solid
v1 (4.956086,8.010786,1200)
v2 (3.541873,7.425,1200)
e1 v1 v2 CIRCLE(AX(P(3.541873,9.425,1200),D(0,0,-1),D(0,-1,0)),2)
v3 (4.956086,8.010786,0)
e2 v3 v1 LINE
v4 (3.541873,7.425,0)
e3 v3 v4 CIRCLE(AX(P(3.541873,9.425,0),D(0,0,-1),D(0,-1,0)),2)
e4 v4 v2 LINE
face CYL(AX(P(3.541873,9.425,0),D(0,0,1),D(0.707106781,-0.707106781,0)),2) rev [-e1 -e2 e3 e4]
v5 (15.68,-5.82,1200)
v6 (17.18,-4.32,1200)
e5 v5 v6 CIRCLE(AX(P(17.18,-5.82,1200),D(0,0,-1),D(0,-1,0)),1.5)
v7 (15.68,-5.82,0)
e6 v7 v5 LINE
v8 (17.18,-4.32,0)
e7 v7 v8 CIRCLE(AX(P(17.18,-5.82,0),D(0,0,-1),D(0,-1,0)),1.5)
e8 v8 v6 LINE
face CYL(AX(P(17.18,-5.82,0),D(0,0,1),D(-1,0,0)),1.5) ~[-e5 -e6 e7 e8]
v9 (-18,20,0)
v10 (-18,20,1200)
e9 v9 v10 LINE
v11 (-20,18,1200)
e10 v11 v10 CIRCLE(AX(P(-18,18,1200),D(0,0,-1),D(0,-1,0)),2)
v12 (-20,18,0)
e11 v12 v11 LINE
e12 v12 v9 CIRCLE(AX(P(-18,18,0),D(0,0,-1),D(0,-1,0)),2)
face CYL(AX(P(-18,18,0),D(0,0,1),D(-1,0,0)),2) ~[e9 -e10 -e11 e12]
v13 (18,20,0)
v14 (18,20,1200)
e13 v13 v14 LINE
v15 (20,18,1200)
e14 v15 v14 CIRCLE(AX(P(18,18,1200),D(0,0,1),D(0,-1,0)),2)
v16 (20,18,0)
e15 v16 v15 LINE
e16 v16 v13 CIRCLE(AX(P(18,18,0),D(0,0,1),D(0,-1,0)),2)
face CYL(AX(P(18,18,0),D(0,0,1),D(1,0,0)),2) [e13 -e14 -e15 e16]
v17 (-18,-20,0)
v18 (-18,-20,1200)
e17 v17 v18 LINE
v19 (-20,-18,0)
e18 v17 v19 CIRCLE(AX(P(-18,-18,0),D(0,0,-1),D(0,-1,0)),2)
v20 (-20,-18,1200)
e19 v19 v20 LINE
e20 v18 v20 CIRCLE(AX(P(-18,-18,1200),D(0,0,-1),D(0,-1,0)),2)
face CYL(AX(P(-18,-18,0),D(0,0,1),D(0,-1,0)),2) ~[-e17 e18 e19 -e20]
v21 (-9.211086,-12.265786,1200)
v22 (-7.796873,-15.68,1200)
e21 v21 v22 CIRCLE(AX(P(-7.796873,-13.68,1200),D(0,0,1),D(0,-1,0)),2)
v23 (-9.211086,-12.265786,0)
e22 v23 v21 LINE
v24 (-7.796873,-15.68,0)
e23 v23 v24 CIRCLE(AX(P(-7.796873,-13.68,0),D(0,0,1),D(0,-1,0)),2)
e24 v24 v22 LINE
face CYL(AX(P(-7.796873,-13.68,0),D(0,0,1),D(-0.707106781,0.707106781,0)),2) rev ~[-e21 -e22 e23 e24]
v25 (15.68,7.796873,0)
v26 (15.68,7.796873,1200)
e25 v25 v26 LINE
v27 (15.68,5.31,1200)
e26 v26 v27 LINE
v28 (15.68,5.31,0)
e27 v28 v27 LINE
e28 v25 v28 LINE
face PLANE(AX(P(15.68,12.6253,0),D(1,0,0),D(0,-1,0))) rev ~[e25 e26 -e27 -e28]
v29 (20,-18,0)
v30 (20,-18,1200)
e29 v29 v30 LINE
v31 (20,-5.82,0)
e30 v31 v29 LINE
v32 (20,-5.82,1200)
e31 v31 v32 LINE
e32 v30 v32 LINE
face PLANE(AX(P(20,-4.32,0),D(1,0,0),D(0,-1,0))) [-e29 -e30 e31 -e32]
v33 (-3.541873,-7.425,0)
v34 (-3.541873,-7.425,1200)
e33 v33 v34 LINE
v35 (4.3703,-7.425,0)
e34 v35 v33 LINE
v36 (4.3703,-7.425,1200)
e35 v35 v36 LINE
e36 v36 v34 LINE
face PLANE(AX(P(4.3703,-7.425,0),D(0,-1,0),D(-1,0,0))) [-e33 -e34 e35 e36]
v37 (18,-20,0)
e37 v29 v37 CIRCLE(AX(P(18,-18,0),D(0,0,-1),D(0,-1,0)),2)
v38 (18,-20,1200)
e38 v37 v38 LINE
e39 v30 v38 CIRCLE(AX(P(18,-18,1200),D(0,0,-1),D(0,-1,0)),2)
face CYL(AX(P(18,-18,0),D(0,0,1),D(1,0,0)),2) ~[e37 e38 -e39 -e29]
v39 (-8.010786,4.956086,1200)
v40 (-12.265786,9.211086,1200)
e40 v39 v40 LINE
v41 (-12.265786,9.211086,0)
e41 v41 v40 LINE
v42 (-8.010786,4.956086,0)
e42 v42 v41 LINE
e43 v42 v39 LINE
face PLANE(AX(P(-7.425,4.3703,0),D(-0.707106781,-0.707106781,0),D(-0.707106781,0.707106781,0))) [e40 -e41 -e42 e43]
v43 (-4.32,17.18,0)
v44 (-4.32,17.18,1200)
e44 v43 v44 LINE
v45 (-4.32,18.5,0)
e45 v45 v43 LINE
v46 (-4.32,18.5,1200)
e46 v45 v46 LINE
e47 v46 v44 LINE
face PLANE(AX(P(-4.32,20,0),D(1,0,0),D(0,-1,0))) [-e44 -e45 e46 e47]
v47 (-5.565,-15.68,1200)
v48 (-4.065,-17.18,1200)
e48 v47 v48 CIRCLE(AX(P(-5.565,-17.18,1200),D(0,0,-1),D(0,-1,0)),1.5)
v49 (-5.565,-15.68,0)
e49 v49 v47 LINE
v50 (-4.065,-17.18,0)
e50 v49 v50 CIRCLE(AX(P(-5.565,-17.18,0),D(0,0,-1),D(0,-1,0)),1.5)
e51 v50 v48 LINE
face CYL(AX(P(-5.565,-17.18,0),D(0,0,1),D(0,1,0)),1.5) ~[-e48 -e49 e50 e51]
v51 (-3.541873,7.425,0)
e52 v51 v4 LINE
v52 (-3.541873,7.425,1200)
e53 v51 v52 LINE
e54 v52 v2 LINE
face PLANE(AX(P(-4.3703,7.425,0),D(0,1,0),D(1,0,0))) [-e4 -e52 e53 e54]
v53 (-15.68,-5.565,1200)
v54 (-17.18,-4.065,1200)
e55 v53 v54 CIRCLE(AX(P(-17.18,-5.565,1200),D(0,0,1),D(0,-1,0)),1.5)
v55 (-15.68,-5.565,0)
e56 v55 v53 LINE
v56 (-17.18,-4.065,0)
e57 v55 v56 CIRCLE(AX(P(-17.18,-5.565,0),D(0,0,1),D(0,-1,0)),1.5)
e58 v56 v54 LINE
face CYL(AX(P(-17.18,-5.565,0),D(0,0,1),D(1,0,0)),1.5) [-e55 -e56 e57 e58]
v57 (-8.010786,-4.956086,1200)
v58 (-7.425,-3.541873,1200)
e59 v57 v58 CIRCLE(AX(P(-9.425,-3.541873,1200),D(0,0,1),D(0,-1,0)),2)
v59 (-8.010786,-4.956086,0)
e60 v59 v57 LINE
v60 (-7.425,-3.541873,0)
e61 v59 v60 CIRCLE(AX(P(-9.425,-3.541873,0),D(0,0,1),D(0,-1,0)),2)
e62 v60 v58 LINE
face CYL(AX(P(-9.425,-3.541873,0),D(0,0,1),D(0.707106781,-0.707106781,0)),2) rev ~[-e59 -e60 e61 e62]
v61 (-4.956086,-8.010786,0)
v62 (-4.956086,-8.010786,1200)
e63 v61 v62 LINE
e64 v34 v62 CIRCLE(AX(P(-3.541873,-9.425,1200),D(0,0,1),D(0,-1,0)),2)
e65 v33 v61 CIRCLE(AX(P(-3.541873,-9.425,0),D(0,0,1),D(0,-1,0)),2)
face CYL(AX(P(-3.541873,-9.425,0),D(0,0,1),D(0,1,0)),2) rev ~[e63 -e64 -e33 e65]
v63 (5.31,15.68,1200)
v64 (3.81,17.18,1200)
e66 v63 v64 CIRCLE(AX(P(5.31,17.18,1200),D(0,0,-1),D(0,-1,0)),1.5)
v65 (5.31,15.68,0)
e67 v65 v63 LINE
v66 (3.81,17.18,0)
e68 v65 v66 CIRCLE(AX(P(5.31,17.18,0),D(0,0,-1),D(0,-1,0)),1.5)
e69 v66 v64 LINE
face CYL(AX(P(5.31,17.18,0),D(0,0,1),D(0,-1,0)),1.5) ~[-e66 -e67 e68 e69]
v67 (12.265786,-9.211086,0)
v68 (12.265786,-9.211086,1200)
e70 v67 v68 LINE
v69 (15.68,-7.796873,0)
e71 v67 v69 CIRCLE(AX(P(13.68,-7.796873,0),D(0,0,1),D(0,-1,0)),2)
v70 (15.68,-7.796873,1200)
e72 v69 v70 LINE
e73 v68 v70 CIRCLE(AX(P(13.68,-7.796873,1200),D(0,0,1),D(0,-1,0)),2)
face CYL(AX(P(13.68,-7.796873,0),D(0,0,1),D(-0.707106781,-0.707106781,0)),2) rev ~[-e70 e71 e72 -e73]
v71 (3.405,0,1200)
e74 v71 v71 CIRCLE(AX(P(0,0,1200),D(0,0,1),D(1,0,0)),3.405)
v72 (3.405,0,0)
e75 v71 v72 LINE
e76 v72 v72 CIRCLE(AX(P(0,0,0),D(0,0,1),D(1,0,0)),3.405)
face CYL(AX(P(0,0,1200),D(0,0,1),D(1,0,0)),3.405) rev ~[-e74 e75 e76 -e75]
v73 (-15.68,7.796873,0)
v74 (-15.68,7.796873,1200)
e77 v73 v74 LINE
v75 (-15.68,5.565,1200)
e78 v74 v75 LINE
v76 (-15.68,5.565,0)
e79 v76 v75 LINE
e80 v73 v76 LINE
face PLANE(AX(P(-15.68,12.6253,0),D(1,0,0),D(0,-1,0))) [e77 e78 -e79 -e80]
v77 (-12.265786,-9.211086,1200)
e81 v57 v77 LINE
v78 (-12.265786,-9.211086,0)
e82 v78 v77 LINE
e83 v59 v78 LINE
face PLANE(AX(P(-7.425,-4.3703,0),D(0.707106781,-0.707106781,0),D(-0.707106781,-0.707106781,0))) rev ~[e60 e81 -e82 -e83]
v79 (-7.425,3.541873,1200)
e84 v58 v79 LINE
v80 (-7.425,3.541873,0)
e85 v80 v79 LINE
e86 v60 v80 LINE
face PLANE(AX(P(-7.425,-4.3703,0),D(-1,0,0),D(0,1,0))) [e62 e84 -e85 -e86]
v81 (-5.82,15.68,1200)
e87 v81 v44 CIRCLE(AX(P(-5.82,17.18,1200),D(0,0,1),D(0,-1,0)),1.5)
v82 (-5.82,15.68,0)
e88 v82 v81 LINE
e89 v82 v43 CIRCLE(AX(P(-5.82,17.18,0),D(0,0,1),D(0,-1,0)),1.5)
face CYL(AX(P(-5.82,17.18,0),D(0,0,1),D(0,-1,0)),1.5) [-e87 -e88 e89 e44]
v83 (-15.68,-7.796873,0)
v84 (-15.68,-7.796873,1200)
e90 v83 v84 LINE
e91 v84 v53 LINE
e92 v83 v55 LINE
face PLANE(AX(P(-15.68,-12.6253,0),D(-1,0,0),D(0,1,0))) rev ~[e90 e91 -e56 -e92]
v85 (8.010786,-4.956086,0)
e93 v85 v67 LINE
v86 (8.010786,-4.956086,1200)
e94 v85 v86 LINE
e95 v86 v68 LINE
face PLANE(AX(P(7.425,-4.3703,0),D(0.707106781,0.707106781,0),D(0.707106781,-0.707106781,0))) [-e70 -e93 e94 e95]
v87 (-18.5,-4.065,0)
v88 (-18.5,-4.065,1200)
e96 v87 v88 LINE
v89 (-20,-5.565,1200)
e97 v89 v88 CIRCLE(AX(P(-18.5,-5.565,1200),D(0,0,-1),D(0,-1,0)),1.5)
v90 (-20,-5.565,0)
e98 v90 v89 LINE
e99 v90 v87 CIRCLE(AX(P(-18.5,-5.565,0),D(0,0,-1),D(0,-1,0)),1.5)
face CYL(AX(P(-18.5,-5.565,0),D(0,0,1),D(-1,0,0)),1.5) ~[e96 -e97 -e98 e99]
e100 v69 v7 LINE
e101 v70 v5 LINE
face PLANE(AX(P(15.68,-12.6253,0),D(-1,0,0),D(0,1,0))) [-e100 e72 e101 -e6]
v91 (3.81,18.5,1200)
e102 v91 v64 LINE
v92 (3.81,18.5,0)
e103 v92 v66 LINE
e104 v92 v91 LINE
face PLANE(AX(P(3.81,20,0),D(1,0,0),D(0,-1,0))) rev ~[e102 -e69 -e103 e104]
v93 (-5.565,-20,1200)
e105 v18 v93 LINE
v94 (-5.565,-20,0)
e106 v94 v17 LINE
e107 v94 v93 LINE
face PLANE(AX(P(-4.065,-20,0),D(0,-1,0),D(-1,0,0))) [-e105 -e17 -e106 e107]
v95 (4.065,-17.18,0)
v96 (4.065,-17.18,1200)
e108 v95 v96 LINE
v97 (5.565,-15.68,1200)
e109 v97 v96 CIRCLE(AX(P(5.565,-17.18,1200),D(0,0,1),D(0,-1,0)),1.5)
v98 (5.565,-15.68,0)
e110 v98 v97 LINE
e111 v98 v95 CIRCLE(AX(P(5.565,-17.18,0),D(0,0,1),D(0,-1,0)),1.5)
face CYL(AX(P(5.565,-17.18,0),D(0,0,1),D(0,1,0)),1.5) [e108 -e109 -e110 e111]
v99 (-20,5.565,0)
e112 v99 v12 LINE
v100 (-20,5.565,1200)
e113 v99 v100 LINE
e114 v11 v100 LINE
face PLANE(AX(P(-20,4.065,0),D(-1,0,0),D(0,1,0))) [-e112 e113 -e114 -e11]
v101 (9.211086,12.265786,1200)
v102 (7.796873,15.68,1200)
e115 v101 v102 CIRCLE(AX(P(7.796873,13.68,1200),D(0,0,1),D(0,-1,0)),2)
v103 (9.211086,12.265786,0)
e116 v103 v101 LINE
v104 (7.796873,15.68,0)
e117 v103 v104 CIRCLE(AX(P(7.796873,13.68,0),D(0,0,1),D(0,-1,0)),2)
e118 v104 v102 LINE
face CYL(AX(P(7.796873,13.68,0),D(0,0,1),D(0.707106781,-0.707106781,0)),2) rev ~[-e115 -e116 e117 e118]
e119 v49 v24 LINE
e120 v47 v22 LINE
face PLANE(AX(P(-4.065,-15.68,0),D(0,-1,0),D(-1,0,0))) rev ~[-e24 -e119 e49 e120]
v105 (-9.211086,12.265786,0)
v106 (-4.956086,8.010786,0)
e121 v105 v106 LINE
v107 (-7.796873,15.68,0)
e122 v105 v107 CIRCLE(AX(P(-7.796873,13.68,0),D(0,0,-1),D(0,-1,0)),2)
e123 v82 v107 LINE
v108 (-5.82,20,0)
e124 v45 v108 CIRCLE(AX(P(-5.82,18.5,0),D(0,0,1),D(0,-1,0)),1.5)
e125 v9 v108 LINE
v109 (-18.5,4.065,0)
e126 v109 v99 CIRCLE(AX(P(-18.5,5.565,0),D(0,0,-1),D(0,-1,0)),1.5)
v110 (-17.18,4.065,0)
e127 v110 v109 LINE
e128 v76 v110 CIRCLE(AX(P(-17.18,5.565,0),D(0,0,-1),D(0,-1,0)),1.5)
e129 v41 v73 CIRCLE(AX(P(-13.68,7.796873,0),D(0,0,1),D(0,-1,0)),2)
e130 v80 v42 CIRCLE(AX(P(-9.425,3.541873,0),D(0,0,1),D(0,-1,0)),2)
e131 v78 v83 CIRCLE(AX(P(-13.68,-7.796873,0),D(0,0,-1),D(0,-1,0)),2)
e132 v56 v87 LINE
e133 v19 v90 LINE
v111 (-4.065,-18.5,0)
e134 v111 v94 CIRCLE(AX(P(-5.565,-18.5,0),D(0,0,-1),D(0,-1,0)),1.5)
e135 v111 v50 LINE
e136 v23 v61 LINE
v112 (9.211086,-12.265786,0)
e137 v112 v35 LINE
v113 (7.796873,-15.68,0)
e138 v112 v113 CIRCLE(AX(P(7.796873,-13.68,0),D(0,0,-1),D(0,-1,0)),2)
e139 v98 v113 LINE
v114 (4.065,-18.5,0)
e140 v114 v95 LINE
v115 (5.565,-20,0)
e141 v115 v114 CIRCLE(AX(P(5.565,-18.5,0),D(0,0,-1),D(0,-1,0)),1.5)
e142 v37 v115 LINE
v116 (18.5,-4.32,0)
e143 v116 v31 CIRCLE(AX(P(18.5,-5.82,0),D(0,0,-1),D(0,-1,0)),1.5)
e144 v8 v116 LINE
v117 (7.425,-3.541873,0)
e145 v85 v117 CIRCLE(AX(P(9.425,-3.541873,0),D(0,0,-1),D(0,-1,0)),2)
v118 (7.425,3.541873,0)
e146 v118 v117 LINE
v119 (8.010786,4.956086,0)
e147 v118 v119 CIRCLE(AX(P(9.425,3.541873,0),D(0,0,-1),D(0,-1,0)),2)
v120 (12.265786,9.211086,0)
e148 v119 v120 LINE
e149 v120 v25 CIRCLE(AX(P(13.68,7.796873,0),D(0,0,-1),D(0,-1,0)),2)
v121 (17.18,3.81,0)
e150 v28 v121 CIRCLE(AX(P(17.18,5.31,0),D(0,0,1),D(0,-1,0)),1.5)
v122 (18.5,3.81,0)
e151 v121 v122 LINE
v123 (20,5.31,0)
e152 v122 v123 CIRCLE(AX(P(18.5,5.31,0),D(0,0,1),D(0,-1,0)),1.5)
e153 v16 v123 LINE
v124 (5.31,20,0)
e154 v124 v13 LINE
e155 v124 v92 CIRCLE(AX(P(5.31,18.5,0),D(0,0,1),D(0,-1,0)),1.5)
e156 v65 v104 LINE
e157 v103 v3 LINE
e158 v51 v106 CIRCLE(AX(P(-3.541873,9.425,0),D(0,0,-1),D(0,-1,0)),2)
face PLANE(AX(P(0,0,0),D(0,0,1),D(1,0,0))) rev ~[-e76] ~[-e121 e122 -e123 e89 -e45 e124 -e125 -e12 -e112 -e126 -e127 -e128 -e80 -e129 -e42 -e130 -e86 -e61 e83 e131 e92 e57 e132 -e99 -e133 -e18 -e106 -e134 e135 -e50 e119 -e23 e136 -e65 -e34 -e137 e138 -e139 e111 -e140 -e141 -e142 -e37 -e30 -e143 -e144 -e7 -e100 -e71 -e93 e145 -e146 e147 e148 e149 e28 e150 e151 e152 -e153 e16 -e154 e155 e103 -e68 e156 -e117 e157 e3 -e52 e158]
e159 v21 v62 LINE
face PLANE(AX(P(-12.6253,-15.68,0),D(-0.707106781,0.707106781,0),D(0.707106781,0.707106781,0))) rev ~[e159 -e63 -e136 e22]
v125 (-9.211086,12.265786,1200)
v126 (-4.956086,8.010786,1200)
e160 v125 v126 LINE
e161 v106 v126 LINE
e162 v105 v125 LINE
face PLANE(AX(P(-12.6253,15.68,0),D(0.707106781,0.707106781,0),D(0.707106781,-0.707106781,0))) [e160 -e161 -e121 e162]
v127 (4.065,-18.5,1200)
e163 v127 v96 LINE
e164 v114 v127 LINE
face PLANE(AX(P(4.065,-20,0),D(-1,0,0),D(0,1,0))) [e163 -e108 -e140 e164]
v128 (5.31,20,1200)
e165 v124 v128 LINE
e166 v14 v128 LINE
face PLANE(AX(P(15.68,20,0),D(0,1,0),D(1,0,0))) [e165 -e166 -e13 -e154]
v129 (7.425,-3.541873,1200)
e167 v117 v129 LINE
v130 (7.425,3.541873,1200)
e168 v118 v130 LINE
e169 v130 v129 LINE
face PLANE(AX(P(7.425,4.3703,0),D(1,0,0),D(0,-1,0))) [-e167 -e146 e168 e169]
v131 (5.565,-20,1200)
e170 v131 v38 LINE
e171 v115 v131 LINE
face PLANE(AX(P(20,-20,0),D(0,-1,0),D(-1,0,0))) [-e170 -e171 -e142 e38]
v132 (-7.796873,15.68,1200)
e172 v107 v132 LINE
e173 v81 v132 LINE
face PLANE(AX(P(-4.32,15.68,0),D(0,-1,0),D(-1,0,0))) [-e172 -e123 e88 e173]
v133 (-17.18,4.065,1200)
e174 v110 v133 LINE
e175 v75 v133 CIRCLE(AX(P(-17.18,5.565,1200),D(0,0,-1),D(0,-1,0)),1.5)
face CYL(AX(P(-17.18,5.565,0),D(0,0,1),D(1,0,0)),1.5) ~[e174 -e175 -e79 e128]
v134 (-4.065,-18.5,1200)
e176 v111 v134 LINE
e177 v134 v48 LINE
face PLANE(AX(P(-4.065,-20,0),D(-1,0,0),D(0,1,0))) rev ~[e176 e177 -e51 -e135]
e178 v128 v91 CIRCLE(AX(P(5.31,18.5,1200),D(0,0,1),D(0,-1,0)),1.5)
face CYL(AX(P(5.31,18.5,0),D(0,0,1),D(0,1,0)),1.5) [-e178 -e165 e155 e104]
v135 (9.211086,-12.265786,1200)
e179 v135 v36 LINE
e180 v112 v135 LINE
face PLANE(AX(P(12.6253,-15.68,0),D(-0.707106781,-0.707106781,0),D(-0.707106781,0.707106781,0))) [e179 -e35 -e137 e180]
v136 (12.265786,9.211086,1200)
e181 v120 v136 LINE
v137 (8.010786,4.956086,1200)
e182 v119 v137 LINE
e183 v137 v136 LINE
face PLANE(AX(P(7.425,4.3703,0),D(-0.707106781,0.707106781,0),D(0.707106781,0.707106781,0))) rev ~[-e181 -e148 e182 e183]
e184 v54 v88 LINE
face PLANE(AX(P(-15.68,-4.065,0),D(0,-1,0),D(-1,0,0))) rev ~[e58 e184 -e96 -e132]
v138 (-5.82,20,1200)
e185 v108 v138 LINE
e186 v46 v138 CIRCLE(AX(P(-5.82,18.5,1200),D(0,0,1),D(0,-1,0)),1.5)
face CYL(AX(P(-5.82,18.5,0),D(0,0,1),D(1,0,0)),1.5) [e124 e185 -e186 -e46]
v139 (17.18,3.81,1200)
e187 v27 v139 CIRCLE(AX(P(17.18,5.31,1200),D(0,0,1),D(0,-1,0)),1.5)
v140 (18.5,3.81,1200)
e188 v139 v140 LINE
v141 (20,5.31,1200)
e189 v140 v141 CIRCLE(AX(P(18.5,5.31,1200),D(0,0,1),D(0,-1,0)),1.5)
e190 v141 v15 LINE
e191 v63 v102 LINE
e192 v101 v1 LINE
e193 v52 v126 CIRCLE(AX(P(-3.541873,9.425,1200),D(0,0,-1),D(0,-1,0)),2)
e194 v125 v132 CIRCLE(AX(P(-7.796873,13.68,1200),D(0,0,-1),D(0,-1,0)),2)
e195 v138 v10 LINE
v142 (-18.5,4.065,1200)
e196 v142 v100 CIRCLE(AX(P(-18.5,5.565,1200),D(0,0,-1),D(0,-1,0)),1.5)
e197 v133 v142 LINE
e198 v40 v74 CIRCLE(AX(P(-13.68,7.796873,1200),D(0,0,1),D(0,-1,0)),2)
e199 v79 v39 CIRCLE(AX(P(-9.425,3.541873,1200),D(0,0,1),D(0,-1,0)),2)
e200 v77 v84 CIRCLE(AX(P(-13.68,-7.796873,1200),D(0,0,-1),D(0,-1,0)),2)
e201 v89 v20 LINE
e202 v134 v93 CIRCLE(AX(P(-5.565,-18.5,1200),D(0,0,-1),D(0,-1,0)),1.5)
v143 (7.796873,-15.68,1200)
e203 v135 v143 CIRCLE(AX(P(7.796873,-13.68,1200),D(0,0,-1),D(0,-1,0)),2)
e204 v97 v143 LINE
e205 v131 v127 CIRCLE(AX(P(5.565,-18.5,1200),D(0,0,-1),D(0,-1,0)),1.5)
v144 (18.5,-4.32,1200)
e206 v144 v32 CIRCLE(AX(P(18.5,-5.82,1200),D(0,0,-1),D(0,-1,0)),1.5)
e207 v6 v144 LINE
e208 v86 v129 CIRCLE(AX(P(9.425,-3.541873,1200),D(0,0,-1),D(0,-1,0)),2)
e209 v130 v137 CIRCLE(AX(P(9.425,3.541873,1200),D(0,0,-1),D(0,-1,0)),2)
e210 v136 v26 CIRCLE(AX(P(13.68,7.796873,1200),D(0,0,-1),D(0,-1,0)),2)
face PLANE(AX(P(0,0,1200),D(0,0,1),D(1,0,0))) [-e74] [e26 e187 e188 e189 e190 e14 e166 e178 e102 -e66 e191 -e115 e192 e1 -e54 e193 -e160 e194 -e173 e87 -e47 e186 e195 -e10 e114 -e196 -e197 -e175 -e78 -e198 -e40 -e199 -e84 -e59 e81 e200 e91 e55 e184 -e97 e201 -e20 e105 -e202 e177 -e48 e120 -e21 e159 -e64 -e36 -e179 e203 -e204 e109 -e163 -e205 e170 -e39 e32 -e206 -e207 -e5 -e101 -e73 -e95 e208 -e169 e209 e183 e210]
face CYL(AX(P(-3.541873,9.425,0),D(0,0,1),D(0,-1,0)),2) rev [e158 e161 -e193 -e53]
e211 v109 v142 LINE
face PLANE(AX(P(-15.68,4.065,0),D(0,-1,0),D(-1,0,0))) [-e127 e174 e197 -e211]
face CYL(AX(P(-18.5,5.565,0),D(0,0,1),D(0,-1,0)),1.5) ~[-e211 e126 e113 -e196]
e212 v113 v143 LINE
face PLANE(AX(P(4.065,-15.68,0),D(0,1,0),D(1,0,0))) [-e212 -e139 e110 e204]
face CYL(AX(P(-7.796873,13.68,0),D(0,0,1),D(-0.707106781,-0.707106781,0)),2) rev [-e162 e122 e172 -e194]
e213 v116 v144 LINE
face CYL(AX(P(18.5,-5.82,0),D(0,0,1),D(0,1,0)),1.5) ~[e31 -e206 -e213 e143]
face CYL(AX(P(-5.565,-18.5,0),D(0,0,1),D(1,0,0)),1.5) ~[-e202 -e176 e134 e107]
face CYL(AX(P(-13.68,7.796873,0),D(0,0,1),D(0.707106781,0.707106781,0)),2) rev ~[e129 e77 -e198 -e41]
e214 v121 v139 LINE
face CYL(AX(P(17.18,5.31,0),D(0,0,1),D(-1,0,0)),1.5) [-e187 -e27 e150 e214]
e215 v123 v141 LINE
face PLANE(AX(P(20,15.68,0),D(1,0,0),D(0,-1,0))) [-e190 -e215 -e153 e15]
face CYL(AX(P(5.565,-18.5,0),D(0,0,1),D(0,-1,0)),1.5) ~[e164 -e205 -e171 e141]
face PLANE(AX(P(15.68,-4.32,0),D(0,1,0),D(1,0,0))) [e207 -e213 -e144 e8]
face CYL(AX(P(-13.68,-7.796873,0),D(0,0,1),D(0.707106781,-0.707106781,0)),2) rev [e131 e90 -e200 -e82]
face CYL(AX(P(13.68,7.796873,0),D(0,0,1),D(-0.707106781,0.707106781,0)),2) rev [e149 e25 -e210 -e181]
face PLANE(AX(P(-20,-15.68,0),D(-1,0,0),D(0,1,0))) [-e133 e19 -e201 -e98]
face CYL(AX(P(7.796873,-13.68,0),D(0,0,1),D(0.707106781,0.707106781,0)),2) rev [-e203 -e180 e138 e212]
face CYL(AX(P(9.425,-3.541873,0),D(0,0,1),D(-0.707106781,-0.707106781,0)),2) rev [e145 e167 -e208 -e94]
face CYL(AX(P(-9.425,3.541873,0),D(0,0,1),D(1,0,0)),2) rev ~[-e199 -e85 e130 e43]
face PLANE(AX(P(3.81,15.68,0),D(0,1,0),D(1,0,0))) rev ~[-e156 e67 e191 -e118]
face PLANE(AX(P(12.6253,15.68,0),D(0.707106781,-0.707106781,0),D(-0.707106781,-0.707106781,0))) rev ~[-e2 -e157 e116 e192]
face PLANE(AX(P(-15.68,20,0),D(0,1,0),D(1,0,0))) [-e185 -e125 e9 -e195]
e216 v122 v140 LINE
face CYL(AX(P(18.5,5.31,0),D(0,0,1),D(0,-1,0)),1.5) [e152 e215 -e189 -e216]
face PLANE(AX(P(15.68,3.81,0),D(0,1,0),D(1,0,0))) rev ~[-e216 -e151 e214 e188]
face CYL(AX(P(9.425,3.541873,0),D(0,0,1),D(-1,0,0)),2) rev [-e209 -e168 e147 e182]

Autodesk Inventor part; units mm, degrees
ref_plane "YZ Plane" through (0, 0, 0) normal (1, 0, 0) x (0, 1, 0)
ref_plane "XZ Plane" through (0, 0, 0) normal (0, 1, 0) x (-1, 0, 0)
ref_plane "XY Plane" through (0, 0, 0) normal (0, 0, 1) x (1, 0, 0)
sketch "Sketch1" plane through (0, 0, 0) normal (0, 0, 1) x (1, 0, 0)
  line L0 (7.425, -7.425) -> (-7.425, -7.425)
  line L1 (-7.425, -7.425) -> (-7.425, 7.425)
  line L2 (-7.425, 7.425) -> (7.425, 7.425)
  line L3 (7.425, 7.425) -> (7.425, -7.425)
  line L4 (7.425, -7.425) -> (-7.425, 7.425) construction
  line L5 (-7.425, -7.425) -> (7.425, 7.425) construction
  line L6 (20, -20) -> (-20, -20)
  line L7 (-20, -20) -> (-20, 20)
  line L8 (-20, 20) -> (20, 20)
  line L9 (20, 20) -> (20, -20)
  line L10 (20, -20) -> (-20, 20) construction
  line L11 (-20, -20) -> (20, 20) construction
  line L12 (-16.1503, -19.205) -> (19.205, 16.1503)
  line L13 (19.205, 16.1503) -> (16.1503, 19.205)
  line L14 (16.1503, 19.205) -> (-19.205, -16.1503)
  line L15 (-19.205, -16.1503) -> (-16.1503, -19.205)
  line L16 (-16.1503, -19.205) -> (16.1503, 19.205) construction
  line L17 (19.205, 16.1503) -> (-19.205, -16.1503) construction
  line L18 (16.1503, -19.205) -> (-19.205, 16.1503)
  line L19 (-19.205, 16.1503) -> (-16.1503, 19.205)
  line L20 (-16.1503, 19.205) -> (19.205, -16.1503)
  line L21 (19.205, -16.1503) -> (16.1503, -19.205)
  line L22 (16.1503, -19.205) -> (-16.1503, 19.205) construction
  line L23 (-19.205, 16.1503) -> (19.205, -16.1503) construction
  line L24 (-20, 20) -> (-15.68, 20)
  line L25 (-15.68, 20) -> (-15.68, 4.065)
  line L26 (-15.68, 4.065) -> (-20, 4.065)
  line L27 (-20, 4.065) -> (-20, 20)
  line L28 (-20, -20) -> (-15.68, -20)
  line L29 (-15.68, -20) -> (-15.68, -4.065)
  line L30 (-15.68, -4.065) -> (-20, -4.065)
  line L31 (-20, -4.065) -> (-20, -20)
  line L32 (-20, 20) -> (-4.32, 20)
  line L33 (-4.32, 20) -> (-4.32, 15.68)
  line L34 (-4.32, 15.68) -> (-20, 15.68)
  line L35 (-20, 15.68) -> (-20, 20)
  line L36 (20, 20) -> (3.81, 20)
  line L37 (3.81, 20) -> (3.81, 15.68)
  line L38 (3.81, 15.68) -> (20, 15.68)
  line L39 (20, 15.68) -> (20, 20)
  line L40 (20, -20) -> (15.68, -20)
  line L41 (15.68, -20) -> (15.68, -4.32)
  line L42 (15.68, -4.32) -> (20, -4.32)
  line L43 (20, -4.32) -> (20, -20)
  line L44 (20, -20) -> (4.065, -20)
  line L45 (4.065, -20) -> (4.065, -15.68)
  line L46 (4.065, -15.68) -> (20, -15.68)
  line L47 (20, -15.68) -> (20, -20)
  line L48 (-20, -20) -> (-4.065, -20)
  line L49 (-4.065, -20) -> (-4.065, -15.68)
  line L50 (-4.065, -15.68) -> (-20, -15.68)
  line L51 (-20, -15.68) -> (-20, -20)
  line L52 (20, 20) -> (15.68, 20)
  line L53 (15.68, 20) -> (15.68, 3.81)
  line L54 (15.68, 3.81) -> (20, 3.81)
  line L55 (20, 3.81) -> (20, 20)
  point P0 (0, 0)
  dimension "d0" = 14.85
  dimension "d1" = 14.85
  dimension "d2" = 40
  dimension "d3" = 40
  dimension "d4" = 4.32
  dimension "d5" = 4.32
  dimension "d6" = 50
  dimension "d7" = 50
  dimension "d8" = 4.32
  dimension "d10" = 4.32
  dimension "d11" = 8.13
  dimension "d12" = 4.065
  dimension "d15" = 4.32
  dimension "d16" = 4.32
  dimension "d17" = 4.32
  dimension "d18" = 4.32
  dimension "d19" = 8.13
  dimension "d20" = 8.13
  dimension "d21" = 4.065
  dimension "d22" = 4.32
  dimension "d23" = 4.32
  dimension "d24" = 4.32
  dimension "d25" = 8.13
  dimension "d26" = 4.32
  dimension "d28" = 8.255
extrude "Extrusion1" add sketch "Sketch1" along normal blind 1200 contours L3 L20 L41 L46 L18 L0 | L0 L18 L12 L20 L3 | L0 L12 L18 | L20 L12 L3 | L12 L50 L29 L14 L1 L0 | L0 L1 L14 L18 L12 | L46 L41 L18 | L18 L41 L6 L45 L46 | L18 L14 L20 L12 | L12 L20 L14 L2 L3 | L3 L2 L14 L38 L53 L12 | L41 L42 L9 L46 L20 | L20 L46 L41 | L50 L49 L6 L29 L12 | L12 L29 L50 | L41 L46 L20 L21 L18 | L18 L21 L20 L46 L9 L6 L41 | L18 L1 L2 L20 L14 | L14 L1 L18 | L53 L38 L12 | L12 L38 L9 L54 L53 | L20 L2 L14 | L29 L6 L7 L50 L14 L15 L12 | L12 L15 L14 L50 L29 | L50 L14 L29 | L18 L25 L34 L20 L2 L1 | L38 L53 L14 L13 L12 | L12 L13 L14 L53 L8 L9 L38 | L38 L14 L53 | L14 L50 L7 L30 L29 | L25 L26 L7 L34 L18 | L18 L34 L25 | L38 L37 L8 L53 L14 | L34 L25 L20 | L20 L25 L8 L33 L34 | L34 L7 L8 L25 L20 L19 L18 | L18 L19 L20 L25 L34
fillet "Fillet1" radius 2 19 edges at (12.6253, 15.68, 600) (15.68, 12.6253, 600) (20, 20, 600) (20, -20, 600) (7.425, -4.3703, 600) (7.425, 4.3703, 600) (15.68, -12.6253, 600) (12.6253, -15.68, 600) (-12.6253, -15.68, 600) (-15.68, -12.6253, 600) (-20, -20, 600) (-7.425, -4.3703, 600) (-4.3703, -7.425, 600) (-7.425, 4.3703, 600) (-4.3703, 7.425, 600) (4.3703, 7.425, 600) (-12.6253, 15.68, 600) (-20, 20, 600) (-15.68, 12.6253, 600)
fillet "Fillet1" radius 1.5 16 edges at (-15.68, 4.065, 600) (-20, 4.065, 600) (-4.32, 20, 600) (-4.32, 15.68, 600) (3.81, 15.68, 600) (3.81, 20, 600) (20, 3.81, 600) (15.68, 3.81, 600) (15.68, -4.32, 600) (20, -4.32, 600) (4.065, -20, 600) (4.065, -15.68, 600) (-4.065, -20, 600) (-4.065, -15.68, 600) (-15.68, -4.065, 600) (-20, -4.065, 600)
sketch "Sketch2" plane through (0, 0, 1200) normal (0, 0, 1) x (1, 0, 0)
  circle A0 centre (0, 0) radius 3.405
  dimension "d30" = 6.81
extrude "Extrusion2" cut sketch "Sketch2" against normal through all
sketch "Skizze3" plane through (0, 0, 1200) normal (0, 0, 1) x (1, 0, 0)
  point P0 (0, 0)
equation "\"d1\" = d0"
equation "\"d7\" = d6"
equation "\"d12\" = 0.5 * d11"
equation "\"d15\" = d8"
equation "\"d17\" = d8"
equation "\"d18\" = d8"
equation "\"d19\" = d11"
equation "\"d20\" = d19"
equation "\"d21\" = d12"
equation "\"d22\" = d8"
equation "\"d23\" = d8"
equation "\"d24\" = d8"
equation "\"d25\" = d11"
equation "\"d26\" = d8"
properties part number "4040_Alu" material "Aluminum 6061"
